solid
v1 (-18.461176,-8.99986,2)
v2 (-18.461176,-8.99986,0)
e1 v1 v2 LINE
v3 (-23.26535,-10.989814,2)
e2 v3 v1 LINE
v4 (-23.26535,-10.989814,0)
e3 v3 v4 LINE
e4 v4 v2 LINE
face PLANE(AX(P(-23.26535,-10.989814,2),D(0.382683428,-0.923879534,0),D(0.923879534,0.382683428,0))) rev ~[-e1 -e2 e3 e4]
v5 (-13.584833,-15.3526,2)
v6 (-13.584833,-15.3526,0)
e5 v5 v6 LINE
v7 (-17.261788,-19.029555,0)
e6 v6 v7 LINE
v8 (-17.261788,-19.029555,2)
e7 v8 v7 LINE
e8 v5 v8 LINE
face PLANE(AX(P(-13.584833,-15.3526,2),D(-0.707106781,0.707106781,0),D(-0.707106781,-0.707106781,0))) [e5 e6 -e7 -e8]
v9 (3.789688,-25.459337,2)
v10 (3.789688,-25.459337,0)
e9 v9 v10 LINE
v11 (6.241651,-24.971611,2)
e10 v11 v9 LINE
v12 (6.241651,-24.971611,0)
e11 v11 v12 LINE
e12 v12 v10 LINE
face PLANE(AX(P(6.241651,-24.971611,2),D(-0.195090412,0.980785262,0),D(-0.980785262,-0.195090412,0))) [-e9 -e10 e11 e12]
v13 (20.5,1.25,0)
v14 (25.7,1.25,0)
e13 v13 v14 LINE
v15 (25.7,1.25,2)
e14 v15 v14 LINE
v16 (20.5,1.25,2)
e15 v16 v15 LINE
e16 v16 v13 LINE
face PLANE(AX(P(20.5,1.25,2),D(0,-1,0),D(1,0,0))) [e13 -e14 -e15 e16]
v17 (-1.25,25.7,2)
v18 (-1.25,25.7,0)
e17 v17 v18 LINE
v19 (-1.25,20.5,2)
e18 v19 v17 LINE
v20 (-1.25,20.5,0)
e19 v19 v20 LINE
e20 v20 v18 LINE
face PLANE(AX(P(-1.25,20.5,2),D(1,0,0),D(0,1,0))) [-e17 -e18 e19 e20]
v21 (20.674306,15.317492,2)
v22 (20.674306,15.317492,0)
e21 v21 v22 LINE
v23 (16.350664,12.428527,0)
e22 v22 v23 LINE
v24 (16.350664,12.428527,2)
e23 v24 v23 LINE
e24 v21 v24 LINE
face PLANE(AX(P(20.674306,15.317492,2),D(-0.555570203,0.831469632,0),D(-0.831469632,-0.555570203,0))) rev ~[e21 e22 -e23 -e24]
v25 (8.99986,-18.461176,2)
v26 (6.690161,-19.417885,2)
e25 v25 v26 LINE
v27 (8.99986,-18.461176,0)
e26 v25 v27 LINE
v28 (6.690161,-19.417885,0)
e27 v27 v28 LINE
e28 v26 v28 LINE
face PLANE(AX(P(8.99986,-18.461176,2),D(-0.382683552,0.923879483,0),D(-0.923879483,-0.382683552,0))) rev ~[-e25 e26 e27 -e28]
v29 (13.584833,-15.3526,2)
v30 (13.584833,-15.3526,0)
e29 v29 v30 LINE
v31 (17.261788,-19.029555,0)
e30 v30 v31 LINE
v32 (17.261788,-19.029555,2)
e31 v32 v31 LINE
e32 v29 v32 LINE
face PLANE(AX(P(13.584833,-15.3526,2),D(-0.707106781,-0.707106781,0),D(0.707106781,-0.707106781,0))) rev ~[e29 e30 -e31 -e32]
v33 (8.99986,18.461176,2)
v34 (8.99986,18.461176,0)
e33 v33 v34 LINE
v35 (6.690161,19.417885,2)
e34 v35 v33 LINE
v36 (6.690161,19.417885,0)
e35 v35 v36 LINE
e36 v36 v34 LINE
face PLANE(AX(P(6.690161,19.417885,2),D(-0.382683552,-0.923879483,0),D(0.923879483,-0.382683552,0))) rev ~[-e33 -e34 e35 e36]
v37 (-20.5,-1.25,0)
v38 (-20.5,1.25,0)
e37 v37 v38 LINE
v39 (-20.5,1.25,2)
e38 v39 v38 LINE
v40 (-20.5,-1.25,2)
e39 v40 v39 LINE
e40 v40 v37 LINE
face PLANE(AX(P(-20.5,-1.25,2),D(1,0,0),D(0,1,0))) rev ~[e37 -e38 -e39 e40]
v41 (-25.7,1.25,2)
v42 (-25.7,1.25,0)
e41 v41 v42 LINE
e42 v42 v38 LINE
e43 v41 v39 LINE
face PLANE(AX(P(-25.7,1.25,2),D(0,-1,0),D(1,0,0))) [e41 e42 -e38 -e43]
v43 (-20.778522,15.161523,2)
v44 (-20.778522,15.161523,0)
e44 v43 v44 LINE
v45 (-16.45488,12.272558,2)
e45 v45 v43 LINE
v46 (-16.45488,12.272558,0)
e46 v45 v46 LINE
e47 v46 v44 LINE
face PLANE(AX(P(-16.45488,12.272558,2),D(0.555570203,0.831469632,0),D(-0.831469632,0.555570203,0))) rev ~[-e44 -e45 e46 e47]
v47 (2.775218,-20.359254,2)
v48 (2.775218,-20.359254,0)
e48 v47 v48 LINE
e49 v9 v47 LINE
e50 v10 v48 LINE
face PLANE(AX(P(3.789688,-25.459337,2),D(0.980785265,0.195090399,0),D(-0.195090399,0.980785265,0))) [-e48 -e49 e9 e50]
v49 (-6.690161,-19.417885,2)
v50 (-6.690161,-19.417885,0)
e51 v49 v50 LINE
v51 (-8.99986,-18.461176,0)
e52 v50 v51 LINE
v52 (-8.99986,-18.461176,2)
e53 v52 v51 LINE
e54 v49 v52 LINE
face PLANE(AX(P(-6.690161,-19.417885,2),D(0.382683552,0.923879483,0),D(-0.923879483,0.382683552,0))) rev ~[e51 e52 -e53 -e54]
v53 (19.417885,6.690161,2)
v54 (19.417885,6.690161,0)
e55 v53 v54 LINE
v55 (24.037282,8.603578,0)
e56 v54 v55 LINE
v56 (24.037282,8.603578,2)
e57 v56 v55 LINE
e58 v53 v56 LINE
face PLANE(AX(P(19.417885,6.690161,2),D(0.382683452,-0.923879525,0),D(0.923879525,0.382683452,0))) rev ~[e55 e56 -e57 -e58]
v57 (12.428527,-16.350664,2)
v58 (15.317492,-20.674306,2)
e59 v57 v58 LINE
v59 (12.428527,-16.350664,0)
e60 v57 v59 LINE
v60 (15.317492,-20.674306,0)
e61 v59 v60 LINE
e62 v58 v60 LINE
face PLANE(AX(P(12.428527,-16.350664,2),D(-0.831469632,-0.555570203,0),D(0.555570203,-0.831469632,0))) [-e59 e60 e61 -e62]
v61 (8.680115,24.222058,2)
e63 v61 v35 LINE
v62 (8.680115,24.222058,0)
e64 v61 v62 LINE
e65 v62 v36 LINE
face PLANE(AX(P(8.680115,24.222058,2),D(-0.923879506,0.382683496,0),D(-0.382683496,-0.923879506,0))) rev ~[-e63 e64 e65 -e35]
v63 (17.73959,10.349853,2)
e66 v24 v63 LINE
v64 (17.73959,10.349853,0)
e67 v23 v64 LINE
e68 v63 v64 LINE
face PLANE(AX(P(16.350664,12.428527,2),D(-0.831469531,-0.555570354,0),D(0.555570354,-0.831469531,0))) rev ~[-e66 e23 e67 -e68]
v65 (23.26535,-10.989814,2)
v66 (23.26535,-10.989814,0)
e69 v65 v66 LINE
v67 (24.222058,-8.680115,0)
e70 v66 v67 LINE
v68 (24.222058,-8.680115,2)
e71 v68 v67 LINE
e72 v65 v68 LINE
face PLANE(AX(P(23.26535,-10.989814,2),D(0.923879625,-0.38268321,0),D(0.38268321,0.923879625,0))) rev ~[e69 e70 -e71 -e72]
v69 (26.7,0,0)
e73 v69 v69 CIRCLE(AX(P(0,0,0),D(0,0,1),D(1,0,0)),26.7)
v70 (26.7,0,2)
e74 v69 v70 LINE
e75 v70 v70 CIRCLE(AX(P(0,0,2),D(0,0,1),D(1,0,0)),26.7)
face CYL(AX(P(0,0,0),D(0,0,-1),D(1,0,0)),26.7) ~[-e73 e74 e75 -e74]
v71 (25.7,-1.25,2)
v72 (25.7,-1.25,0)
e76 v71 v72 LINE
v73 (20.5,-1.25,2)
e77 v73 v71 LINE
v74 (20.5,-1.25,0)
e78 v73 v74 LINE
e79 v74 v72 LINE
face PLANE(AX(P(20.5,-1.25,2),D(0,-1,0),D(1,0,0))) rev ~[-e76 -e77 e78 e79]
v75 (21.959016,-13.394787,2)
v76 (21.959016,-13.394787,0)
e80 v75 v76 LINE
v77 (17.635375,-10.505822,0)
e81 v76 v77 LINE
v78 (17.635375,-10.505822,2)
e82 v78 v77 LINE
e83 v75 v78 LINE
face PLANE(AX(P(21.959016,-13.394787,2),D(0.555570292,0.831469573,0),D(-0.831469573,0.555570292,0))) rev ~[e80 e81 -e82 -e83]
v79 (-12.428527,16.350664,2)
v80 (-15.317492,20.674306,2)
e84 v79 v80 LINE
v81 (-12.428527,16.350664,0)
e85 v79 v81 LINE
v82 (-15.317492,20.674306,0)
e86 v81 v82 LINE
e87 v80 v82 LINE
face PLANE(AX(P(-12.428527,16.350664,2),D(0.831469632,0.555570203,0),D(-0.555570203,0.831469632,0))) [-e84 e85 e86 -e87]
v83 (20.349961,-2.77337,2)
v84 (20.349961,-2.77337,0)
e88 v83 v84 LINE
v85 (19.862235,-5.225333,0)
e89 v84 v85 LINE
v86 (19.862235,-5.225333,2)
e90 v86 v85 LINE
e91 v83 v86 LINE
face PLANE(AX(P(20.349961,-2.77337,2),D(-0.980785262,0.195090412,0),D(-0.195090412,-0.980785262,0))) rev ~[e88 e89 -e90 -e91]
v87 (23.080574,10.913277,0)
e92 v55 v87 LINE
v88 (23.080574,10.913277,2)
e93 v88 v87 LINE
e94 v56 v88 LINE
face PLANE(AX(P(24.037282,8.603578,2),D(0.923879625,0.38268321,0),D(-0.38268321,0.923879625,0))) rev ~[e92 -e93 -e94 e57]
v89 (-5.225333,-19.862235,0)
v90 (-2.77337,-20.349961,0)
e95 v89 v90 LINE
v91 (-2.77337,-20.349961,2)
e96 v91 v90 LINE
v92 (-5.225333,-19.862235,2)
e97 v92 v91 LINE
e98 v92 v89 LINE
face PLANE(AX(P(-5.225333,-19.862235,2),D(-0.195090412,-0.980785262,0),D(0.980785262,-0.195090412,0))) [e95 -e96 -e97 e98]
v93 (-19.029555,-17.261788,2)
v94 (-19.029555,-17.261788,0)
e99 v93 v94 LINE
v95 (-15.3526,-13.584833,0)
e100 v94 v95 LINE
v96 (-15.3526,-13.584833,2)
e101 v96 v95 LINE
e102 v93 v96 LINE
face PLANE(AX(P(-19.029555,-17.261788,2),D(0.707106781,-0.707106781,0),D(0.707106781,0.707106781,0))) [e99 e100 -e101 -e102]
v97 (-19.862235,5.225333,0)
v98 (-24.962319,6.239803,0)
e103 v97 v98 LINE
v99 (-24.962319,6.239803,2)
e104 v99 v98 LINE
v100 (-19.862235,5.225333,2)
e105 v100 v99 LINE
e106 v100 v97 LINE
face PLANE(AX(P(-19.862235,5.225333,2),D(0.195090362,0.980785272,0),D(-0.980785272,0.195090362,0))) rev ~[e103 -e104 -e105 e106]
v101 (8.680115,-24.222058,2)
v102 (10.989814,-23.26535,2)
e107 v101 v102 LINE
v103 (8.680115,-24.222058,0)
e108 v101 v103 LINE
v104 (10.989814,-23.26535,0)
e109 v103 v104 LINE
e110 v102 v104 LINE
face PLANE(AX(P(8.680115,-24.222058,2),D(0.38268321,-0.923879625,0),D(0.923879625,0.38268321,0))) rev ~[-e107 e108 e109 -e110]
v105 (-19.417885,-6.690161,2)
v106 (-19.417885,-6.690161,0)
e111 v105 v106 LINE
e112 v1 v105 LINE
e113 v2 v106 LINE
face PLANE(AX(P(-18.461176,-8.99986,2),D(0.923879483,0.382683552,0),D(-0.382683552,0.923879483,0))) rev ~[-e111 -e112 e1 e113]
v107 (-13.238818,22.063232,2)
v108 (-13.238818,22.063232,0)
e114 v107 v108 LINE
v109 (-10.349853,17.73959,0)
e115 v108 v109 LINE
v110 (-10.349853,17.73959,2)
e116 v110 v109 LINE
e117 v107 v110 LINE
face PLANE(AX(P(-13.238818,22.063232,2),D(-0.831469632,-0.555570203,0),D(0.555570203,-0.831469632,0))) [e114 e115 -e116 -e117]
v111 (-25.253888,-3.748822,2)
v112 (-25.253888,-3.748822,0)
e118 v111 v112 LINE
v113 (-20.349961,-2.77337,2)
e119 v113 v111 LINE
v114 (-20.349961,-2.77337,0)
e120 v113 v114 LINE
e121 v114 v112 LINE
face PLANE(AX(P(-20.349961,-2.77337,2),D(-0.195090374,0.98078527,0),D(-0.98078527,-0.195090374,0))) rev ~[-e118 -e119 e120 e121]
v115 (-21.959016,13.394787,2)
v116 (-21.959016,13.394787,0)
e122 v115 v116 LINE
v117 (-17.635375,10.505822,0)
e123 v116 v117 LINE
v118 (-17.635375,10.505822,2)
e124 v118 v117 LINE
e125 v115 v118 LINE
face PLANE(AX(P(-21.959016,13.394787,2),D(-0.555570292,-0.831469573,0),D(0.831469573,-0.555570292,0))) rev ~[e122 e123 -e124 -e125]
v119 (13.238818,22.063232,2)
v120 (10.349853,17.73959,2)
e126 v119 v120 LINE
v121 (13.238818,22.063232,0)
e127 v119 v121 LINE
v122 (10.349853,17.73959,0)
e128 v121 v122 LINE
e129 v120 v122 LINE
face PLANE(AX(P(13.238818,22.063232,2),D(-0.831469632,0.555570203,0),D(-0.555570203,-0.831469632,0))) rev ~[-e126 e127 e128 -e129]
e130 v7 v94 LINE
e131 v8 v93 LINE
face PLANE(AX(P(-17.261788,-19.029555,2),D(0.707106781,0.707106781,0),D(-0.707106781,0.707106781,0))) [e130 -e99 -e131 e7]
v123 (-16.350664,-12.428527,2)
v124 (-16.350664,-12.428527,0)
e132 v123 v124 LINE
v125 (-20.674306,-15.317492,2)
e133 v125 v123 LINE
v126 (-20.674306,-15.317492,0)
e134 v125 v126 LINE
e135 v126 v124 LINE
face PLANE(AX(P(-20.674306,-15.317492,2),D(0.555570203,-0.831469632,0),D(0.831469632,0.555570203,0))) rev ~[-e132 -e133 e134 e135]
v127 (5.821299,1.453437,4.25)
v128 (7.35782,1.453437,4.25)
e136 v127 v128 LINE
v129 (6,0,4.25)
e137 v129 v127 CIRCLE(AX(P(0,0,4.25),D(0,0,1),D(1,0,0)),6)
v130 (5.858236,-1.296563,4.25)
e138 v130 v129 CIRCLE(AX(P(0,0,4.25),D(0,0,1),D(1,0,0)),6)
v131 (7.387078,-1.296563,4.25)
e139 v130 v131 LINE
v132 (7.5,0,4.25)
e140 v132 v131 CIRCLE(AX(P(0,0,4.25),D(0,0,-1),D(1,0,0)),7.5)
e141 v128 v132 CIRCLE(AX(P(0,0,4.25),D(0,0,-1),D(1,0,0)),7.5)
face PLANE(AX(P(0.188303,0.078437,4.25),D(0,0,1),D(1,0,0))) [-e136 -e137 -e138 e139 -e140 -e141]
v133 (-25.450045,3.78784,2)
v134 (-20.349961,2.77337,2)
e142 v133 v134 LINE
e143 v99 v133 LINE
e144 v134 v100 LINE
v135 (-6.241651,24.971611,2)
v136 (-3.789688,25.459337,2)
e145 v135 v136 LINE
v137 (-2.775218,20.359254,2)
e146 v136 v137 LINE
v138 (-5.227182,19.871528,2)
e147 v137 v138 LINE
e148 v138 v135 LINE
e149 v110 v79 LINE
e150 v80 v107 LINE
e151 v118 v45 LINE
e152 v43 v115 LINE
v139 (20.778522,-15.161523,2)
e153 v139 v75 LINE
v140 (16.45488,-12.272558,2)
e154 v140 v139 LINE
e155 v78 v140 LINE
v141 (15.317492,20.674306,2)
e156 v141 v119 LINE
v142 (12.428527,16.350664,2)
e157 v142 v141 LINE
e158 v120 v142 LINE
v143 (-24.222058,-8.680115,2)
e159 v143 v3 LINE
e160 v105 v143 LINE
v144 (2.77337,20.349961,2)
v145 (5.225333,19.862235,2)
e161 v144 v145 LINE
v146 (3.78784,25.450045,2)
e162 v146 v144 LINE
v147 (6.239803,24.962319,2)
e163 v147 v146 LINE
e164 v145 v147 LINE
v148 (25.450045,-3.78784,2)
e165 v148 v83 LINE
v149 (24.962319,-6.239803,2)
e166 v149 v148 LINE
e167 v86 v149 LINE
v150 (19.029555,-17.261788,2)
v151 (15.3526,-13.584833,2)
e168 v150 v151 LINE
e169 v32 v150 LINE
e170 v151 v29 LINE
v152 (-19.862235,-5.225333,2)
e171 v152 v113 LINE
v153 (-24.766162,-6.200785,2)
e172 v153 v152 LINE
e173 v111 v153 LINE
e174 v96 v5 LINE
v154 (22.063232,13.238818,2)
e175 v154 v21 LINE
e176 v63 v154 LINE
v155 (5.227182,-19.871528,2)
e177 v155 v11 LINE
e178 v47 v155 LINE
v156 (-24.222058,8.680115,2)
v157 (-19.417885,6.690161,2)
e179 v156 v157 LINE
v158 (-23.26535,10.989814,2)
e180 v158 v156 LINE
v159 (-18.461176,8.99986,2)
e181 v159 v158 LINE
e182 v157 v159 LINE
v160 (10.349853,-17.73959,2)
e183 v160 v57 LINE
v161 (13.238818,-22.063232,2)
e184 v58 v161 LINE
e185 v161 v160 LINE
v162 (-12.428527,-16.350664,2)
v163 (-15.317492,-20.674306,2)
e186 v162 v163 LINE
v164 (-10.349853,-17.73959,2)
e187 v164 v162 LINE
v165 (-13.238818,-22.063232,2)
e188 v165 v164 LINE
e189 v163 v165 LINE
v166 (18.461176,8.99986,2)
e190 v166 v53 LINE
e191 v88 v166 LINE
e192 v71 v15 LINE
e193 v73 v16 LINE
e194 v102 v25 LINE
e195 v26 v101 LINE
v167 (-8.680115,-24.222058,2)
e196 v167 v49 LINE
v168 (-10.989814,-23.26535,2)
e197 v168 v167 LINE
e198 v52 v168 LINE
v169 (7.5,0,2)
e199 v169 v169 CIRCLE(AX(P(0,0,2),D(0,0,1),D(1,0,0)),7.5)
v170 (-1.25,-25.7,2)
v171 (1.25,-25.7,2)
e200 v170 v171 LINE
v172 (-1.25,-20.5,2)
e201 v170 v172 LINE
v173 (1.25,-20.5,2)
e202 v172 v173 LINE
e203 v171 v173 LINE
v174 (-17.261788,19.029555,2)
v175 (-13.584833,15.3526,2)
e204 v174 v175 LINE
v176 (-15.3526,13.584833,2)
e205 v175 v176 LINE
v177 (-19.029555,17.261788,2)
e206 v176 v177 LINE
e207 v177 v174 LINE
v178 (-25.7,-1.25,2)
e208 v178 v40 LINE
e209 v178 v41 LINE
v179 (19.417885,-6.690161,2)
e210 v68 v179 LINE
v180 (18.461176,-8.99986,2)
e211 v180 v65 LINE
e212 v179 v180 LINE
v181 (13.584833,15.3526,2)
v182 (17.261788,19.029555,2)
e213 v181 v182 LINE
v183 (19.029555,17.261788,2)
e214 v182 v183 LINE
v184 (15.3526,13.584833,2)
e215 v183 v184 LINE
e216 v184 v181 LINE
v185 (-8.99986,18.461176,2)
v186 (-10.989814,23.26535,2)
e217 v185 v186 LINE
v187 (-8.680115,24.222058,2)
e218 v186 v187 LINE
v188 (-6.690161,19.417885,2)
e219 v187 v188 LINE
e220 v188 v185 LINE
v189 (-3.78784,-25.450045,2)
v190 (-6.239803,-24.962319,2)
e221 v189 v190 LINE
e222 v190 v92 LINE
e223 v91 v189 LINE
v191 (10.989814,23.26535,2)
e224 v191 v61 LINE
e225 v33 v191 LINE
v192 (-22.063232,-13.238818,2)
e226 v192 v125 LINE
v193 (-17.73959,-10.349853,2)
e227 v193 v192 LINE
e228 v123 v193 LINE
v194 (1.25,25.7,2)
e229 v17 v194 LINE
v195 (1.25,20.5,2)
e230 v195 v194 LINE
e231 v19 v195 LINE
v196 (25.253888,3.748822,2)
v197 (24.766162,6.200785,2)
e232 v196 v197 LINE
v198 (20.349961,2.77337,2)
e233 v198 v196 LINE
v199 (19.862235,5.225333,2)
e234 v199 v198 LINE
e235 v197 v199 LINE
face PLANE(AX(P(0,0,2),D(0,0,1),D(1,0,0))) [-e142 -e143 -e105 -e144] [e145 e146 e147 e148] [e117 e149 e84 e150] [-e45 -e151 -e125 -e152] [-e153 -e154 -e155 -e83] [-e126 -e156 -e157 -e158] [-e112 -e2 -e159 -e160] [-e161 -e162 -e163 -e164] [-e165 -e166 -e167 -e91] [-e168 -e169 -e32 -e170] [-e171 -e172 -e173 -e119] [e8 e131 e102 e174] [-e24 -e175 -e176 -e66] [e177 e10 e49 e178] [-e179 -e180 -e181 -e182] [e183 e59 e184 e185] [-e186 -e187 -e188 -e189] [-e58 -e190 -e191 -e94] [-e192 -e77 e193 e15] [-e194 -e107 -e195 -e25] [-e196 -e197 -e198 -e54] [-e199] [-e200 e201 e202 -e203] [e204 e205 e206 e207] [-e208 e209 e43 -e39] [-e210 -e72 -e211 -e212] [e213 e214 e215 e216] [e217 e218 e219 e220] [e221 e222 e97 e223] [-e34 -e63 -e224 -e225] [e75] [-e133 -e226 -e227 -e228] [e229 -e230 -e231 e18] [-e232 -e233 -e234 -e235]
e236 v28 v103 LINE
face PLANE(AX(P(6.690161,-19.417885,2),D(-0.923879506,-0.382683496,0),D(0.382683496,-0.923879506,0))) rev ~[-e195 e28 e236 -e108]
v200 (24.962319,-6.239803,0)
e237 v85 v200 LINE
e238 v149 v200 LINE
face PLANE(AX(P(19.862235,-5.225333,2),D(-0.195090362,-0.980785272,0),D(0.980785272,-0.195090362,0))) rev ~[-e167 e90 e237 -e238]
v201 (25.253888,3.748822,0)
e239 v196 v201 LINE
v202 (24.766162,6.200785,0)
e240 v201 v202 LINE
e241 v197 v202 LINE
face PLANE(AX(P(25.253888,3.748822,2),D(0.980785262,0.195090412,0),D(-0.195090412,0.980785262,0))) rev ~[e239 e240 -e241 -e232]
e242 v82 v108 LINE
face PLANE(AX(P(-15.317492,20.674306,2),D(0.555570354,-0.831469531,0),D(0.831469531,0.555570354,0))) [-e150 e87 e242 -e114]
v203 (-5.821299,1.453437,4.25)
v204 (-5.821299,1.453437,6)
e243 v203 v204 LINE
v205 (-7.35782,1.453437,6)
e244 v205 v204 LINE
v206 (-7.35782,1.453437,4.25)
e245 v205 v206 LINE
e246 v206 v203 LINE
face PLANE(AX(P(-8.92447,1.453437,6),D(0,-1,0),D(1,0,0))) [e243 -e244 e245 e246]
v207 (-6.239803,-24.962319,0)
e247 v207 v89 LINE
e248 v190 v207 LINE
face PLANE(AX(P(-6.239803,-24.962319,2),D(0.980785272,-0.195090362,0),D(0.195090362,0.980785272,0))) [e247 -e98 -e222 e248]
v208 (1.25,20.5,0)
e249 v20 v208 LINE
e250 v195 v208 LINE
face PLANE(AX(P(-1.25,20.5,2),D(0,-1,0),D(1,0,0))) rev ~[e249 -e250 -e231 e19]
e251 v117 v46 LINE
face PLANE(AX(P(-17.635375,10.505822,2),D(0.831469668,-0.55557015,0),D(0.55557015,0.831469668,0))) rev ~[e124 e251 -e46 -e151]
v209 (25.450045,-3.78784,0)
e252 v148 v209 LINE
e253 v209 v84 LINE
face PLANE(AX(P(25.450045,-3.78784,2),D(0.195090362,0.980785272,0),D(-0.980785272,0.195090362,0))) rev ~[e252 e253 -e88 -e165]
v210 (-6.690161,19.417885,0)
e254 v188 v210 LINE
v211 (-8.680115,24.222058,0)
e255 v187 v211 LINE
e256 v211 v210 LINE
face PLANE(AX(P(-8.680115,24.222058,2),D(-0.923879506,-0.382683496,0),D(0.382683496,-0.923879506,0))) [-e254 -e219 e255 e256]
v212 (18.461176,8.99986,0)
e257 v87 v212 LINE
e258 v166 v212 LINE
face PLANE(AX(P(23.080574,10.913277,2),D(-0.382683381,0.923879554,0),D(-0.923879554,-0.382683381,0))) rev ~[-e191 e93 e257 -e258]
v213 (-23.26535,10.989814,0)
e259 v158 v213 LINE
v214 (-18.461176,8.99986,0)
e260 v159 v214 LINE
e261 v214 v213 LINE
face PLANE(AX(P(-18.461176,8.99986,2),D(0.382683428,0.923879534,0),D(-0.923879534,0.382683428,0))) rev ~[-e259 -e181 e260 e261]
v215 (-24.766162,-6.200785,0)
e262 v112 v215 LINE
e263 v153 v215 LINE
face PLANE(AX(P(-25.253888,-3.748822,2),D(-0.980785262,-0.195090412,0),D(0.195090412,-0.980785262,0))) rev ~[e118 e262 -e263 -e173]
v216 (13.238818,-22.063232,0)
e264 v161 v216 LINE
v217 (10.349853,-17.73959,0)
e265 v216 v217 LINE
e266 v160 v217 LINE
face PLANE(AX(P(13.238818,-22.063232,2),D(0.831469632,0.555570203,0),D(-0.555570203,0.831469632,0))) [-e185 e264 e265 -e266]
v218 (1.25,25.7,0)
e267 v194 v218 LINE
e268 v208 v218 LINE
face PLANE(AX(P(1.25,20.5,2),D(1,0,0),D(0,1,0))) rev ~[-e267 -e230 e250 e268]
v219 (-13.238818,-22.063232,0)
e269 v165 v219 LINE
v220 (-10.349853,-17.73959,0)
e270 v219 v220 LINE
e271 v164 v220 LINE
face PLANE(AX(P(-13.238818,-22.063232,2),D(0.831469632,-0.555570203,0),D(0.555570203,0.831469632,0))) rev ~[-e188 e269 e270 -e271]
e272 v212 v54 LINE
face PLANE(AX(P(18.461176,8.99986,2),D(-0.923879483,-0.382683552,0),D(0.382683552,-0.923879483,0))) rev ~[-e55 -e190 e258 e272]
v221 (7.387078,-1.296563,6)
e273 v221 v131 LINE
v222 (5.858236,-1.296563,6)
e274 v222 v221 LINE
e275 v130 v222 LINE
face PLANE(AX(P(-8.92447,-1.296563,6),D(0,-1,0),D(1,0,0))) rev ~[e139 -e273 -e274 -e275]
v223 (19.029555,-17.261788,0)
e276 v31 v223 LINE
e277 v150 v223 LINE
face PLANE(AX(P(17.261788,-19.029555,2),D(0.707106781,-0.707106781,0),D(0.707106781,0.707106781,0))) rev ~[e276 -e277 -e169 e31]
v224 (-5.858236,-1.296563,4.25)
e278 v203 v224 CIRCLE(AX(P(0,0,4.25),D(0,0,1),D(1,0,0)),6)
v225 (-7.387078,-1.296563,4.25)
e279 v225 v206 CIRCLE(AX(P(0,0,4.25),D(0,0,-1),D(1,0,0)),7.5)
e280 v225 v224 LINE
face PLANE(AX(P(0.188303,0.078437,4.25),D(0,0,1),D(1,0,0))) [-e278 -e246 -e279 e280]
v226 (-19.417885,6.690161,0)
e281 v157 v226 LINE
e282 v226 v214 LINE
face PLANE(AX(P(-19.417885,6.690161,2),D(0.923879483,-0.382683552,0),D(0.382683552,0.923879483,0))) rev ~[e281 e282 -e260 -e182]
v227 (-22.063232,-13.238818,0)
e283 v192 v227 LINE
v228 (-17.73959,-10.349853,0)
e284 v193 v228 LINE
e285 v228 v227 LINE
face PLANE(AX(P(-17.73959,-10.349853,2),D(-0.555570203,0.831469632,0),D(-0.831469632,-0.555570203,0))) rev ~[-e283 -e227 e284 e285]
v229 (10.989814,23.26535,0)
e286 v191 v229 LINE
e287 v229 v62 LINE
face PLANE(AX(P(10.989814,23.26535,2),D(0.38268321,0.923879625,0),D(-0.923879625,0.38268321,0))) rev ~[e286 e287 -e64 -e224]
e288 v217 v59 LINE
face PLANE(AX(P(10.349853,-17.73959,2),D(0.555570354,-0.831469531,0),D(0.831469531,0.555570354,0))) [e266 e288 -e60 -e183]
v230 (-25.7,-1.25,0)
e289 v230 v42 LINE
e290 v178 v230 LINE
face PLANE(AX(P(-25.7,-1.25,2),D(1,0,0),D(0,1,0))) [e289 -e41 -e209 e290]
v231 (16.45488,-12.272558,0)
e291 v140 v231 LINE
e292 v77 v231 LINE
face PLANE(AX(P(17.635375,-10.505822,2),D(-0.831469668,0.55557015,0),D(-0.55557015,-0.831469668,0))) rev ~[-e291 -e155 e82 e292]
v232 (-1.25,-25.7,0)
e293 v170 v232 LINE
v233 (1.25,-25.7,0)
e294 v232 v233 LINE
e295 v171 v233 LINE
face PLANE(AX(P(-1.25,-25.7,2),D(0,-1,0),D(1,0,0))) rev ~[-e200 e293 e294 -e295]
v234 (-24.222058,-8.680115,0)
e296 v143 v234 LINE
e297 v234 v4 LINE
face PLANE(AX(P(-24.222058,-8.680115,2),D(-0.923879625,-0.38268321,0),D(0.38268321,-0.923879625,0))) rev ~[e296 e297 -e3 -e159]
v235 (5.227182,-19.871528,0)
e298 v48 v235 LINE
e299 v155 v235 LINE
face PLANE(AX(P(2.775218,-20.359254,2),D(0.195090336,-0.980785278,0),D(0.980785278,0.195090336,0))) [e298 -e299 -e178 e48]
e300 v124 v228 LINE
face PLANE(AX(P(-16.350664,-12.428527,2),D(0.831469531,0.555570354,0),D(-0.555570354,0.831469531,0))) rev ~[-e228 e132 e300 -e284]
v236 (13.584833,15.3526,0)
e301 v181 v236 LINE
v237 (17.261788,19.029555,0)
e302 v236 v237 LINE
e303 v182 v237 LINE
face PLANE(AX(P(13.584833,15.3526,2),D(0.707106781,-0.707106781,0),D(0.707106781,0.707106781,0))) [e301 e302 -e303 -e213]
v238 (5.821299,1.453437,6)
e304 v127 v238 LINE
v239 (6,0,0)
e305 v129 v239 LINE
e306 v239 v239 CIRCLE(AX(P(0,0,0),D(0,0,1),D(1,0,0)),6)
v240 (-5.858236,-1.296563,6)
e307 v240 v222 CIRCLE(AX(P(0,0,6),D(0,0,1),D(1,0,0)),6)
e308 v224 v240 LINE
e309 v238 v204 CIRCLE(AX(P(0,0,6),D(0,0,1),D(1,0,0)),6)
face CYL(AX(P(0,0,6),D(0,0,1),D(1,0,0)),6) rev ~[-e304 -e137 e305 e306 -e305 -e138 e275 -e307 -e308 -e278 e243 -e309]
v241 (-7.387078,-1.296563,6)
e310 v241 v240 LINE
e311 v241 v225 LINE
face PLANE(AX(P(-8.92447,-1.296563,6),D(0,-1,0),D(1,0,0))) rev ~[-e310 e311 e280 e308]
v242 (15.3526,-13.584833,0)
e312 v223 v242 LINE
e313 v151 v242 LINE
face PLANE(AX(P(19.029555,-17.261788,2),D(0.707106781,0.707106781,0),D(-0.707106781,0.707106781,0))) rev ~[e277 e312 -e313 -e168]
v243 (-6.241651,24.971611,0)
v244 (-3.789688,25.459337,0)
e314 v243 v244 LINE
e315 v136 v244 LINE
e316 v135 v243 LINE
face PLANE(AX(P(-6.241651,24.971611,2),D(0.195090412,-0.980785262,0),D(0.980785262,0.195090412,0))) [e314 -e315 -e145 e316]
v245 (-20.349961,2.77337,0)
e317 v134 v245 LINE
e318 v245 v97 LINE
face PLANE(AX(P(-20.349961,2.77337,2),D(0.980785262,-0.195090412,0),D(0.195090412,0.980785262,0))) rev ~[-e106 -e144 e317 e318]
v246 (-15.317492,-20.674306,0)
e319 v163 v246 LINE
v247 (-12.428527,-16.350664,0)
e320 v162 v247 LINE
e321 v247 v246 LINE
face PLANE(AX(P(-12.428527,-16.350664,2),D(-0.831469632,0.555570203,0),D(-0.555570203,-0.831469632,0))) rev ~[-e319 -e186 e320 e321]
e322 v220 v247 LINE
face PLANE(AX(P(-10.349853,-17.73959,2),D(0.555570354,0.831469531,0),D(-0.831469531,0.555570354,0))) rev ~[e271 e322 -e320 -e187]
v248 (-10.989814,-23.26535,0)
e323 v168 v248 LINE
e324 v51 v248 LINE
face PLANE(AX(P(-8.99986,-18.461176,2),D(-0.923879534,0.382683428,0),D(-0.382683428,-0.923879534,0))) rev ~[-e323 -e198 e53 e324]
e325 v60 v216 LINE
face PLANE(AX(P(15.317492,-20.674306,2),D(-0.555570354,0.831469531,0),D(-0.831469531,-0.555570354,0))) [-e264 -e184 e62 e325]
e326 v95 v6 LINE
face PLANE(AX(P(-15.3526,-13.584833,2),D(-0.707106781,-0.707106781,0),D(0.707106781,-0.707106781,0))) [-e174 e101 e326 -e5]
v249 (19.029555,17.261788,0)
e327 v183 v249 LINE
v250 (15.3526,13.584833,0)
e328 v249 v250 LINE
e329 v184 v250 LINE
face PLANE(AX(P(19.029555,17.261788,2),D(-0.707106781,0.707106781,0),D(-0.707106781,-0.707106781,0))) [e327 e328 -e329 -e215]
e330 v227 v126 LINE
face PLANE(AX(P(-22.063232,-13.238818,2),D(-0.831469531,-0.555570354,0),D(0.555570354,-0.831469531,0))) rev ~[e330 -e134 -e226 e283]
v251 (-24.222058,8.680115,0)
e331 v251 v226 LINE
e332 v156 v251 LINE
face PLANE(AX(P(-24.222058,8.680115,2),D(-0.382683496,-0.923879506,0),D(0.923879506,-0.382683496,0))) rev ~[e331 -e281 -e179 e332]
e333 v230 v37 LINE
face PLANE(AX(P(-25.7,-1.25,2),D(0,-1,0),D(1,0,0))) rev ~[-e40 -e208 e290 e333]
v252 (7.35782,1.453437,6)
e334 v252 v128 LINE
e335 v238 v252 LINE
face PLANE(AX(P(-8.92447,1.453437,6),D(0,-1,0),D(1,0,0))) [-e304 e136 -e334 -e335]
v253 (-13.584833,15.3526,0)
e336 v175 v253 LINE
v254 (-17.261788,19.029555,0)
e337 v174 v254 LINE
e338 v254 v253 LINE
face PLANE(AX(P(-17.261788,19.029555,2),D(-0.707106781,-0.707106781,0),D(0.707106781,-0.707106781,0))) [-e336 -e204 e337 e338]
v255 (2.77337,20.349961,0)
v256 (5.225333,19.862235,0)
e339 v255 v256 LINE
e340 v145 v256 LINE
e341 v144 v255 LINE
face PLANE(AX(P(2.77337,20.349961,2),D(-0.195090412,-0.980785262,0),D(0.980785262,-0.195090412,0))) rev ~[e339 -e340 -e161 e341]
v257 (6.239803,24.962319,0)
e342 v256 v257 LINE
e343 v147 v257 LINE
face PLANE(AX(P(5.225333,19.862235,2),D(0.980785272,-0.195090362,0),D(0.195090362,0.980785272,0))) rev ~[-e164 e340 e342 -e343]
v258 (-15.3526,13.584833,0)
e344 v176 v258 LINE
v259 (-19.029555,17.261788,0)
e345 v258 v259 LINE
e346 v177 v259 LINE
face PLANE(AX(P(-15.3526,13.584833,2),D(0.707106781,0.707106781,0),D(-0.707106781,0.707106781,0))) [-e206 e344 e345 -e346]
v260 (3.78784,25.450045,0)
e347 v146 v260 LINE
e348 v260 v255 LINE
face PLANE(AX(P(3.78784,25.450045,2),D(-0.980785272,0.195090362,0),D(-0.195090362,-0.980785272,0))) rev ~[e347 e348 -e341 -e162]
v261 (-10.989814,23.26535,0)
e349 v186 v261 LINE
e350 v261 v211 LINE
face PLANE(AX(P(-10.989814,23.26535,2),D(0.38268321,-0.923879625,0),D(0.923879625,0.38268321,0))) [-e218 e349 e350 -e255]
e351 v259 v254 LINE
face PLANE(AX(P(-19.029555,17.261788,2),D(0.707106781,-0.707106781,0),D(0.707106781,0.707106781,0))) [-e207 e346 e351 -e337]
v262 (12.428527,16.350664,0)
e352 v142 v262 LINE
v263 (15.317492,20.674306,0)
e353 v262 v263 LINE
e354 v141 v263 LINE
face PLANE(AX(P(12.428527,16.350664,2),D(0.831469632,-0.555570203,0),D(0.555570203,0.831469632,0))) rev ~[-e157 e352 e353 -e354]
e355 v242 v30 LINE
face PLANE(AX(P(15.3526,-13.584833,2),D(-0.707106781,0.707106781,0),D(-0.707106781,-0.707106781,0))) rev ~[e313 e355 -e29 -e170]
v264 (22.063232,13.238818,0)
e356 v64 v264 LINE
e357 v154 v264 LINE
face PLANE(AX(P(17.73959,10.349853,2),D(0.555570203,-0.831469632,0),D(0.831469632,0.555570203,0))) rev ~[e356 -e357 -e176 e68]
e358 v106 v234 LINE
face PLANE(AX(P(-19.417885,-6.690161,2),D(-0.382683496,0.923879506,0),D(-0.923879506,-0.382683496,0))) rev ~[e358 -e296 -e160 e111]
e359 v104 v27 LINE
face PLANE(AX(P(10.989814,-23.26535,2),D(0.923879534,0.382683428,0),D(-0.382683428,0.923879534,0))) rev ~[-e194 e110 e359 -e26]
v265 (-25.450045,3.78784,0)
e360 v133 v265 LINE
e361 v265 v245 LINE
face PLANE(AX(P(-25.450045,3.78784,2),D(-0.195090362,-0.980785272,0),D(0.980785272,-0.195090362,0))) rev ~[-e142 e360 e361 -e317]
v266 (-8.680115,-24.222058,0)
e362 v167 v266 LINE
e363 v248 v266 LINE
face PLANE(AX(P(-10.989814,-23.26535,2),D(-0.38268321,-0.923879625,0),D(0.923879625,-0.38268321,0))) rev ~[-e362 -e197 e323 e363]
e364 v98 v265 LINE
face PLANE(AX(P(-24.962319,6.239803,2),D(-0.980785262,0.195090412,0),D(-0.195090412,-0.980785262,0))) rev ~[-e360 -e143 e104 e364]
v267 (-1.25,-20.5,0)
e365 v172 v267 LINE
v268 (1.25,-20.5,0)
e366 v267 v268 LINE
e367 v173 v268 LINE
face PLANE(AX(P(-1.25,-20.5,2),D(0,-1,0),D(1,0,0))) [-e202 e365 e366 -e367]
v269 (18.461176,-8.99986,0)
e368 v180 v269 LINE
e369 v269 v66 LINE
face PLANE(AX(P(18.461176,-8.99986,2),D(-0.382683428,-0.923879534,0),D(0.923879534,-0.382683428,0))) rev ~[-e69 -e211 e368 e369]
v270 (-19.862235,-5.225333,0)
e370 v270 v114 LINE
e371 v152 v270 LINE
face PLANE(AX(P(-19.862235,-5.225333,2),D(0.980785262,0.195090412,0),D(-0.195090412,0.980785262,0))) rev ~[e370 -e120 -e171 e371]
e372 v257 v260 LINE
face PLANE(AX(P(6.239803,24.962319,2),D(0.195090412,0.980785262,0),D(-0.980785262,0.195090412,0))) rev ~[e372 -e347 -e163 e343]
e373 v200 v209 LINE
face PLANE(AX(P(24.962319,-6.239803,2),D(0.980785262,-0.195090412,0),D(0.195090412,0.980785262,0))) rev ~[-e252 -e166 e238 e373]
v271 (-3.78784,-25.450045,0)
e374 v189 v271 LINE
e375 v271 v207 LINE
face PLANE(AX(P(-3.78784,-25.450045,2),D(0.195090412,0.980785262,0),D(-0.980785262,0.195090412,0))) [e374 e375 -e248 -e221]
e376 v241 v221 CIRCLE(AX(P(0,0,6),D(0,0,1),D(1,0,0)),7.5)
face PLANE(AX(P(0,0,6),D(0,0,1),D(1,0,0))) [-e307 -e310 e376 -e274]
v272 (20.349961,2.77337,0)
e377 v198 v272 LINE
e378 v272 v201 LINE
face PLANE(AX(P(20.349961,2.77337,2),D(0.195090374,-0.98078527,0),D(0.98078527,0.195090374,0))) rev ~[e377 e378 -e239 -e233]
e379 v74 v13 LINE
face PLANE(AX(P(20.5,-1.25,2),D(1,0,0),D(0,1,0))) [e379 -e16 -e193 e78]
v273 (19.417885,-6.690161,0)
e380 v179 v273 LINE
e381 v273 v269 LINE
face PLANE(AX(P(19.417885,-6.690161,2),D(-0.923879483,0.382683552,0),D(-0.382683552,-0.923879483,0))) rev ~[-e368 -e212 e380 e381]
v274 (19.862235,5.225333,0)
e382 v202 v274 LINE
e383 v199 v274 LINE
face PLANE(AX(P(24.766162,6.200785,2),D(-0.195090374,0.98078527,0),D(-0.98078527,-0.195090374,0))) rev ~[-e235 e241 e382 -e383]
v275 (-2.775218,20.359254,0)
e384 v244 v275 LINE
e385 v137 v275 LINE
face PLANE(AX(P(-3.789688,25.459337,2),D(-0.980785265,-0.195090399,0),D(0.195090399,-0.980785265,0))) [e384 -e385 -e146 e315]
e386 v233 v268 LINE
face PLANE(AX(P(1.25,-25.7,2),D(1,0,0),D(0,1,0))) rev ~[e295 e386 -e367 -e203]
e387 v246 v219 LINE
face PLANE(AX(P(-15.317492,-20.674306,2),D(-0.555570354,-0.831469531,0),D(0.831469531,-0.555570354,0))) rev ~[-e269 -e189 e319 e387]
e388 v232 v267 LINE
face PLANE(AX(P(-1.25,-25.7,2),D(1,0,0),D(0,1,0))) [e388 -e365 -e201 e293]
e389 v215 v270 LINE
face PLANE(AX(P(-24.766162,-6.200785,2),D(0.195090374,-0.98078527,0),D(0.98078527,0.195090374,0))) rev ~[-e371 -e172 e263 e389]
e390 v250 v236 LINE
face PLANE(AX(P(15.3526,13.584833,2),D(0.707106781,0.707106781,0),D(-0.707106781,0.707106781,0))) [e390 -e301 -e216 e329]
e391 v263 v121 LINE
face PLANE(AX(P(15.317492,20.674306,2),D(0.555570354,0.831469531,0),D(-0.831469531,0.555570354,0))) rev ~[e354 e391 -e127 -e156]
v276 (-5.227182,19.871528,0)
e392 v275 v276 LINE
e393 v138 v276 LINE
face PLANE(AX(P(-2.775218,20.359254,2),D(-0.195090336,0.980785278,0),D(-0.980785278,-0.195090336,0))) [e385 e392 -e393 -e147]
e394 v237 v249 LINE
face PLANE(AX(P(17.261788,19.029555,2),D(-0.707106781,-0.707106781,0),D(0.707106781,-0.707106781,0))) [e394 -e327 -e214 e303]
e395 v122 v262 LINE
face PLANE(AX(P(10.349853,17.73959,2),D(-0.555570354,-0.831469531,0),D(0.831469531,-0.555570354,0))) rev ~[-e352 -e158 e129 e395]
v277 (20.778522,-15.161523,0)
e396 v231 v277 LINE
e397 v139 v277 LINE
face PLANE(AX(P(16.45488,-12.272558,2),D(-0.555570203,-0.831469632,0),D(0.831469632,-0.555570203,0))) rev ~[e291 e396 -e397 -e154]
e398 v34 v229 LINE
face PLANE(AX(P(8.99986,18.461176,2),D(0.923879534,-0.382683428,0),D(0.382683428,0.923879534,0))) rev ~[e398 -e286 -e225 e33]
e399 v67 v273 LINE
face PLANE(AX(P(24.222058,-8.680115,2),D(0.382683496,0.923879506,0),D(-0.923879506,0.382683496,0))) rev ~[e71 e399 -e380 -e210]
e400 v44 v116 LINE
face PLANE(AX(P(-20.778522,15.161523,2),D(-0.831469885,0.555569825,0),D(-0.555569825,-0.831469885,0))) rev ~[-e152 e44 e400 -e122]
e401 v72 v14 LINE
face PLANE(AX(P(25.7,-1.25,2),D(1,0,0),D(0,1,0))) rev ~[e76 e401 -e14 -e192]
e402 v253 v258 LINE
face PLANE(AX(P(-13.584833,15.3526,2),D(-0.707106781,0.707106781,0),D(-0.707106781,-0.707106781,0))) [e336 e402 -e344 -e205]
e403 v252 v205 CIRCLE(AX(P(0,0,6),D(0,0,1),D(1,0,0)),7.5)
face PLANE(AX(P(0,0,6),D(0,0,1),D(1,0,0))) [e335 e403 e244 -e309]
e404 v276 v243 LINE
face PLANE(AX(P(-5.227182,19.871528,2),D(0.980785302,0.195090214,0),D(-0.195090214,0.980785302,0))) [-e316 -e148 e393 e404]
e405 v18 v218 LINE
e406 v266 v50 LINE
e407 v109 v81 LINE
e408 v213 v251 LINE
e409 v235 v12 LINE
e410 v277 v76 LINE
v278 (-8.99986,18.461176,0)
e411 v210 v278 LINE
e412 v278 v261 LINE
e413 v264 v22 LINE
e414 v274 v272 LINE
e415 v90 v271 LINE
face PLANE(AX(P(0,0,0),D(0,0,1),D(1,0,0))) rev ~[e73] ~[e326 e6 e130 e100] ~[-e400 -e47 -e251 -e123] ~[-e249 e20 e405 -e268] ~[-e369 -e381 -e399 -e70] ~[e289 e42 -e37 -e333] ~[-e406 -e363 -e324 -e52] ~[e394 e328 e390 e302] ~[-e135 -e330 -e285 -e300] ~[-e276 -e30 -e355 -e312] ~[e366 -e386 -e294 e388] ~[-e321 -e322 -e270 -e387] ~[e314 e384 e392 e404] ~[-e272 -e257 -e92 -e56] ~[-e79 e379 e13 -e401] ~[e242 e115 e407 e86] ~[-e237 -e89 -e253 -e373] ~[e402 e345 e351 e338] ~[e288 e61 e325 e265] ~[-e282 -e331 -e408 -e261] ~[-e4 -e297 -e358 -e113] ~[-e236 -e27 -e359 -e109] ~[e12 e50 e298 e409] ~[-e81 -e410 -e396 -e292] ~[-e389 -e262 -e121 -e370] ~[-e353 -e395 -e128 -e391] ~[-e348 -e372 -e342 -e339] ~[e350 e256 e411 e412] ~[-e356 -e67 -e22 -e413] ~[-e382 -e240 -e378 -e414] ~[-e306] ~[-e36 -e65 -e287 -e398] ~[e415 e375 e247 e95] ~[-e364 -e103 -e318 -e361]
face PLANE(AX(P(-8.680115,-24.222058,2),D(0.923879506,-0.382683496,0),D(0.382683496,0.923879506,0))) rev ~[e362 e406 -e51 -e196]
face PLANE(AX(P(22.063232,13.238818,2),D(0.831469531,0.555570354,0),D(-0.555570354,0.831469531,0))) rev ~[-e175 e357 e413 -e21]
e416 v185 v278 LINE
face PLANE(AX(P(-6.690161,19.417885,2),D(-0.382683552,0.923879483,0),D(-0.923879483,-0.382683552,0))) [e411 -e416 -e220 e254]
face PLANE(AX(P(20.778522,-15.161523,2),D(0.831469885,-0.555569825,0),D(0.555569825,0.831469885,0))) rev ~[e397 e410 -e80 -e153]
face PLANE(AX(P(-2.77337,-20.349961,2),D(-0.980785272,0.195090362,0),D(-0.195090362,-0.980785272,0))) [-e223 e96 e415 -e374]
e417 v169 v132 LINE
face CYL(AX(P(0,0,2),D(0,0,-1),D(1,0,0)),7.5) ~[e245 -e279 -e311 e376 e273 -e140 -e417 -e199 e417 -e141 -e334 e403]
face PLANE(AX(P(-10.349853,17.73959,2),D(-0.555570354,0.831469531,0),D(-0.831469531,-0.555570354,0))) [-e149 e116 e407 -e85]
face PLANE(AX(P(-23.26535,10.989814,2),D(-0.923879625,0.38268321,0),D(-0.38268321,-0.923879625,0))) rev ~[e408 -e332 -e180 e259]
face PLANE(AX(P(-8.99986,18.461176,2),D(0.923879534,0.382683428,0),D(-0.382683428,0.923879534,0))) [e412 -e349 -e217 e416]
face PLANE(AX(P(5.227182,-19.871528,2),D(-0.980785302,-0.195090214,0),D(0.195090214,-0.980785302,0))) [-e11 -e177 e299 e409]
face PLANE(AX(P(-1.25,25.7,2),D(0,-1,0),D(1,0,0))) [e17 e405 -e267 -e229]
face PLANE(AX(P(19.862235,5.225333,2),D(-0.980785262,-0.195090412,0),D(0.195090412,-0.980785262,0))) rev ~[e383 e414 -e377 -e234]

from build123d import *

# Parameters (mm, degrees)
SKETCH_R        = 26.7
PAD_DEPTH       = 2
SKETCH001_W     = 5.2
SKETCH001_H     = 2.5
SKETCH001_W_2   = 2.5
SKETCH001_H_2   = 5.2
POCKET_DEPTH    = 2.001
SKETCH002_R     = 7.5
PAD001_DEPTH    = 4
SKETCH003_R     = 6
POCKET001_DEPTH = 6.001
SKETCH004_W     = 18.225545
SKETCH004_H     = 2.75
POCKET002_DEPTH = 1.75


with BuildPart() as part:
    # Sketch → Pad (new body)
    with BuildSketch(Plane.XY):
        Circle(SKETCH_R)
    extrude(amount=PAD_DEPTH)

    # Sketch001 → Pocket (cut, through all)
    with BuildSketch(Plane.XY.offset(2)):
        with Locations((-23.1, 0)):
            Rectangle(SKETCH001_W, SKETCH001_H)
        with Locations((23.1, 0)):
            Rectangle(SKETCH001_W, SKETCH001_H)
        with Locations((0, 23.1)):
            Rectangle(SKETCH001_W_2, SKETCH001_H_2)
        with Locations((0, -23.1)):
            Rectangle(SKETCH001_W_2, SKETCH001_H_2)
        Polygon((-19.029555, 17.261788), (-17.261788, 19.029555), (-13.584833, 15.3526), (-15.3526, 13.584833), align=None)
        Polygon((17.261788, 19.029555), (19.029555, 17.261788), (15.3526, 13.584833), (13.584833, 15.3526), align=None)
        Polygon((17.261788, -19.029555), (19.029555, -17.261788), (15.3526, -13.584833), (13.584833, -15.3526), align=None)
        Polygon((-17.261788, -19.029555), (-19.029555, -17.261788), (-15.3526, -13.584833), (-13.584833, -15.3526), align=None)
        Polygon((8.680115, 24.222058), (6.690161, 19.417885), (8.99986, 18.461176), (10.989814, 23.26535), align=None)
        Polygon((18.461176, 8.99986), (19.417885, 6.690161), (24.037282, 8.603578), (23.080574, 10.913277), align=None)
        Polygon((-23.26535, 10.989814), (-24.222058, 8.680115), (-19.417885, 6.690161), (-18.461176, 8.99986), align=None)
        Polygon((-24.222058, -8.680115), (-23.26535, -10.989814), (-18.461176, -8.99986), (-19.417885, -6.690161), align=None)
        Polygon((-10.989814, -23.26535), (-8.680115, -24.222058), (-6.690161, -19.417885), (-8.99986, -18.461176), align=None)
        Polygon((6.690161, -19.417885), (8.680115, -24.222058), (10.989814, -23.26535), (8.99986, -18.461176), align=None)
        Polygon((19.417885, -6.690161), (18.461176, -8.99986), (23.26535, -10.989814), (24.222058, -8.680115), align=None)
        Polygon((-10.989814, 23.26535), (-8.680115, 24.222058), (-6.690161, 19.417885), (-8.99986, 18.461176), align=None)
        Polygon((19.862235, 5.225333), (20.349961, 2.77337), (25.253888, 3.748822), (24.766162, 6.200785), align=None)
        Polygon((-25.253888, -3.748822), (-24.766162, -6.200785), (-19.862235, -5.225333), (-20.349961, -2.77337), align=None)
        Polygon((-24.962319, 6.239803), (-25.450045, 3.78784), (-20.349961, 2.77337), (-19.862235, 5.225333), align=None)
        Polygon((-20.778522, 15.161523), (-21.959016, 13.394787), (-17.635375, 10.505822), (-16.45488, 12.272558), align=None)
        Polygon((-15.317492, 20.674306), (-13.238818, 22.063232), (-10.349853, 17.73959), (-12.428527, 16.350664), align=None)
        Polygon((-6.241651, 24.971611), (-3.789688, 25.459337), (-2.775218, 20.359254), (-5.227182, 19.871528), align=None)
        Polygon((3.78784, 25.450045), (2.77337, 20.349961), (5.225333, 19.862235), (6.239803, 24.962319), align=None)
        Polygon((13.238818, 22.063232), (10.349853, 17.73959), (12.428527, 16.350664), (15.317492, 20.674306), align=None)
        Polygon((16.350664, 12.428527), (17.73959, 10.349853), (22.063232, 13.238818), (20.674306, 15.317492), align=None)
        Polygon((20.349961, -2.77337), (19.862235, -5.225333), (24.962319, -6.239803), (25.450045, -3.78784), align=None)
        Polygon((17.635375, -10.505822), (16.45488, -12.272558), (20.778522, -15.161523), (21.959016, -13.394787), align=None)
        Polygon((10.349853, -17.73959), (12.428527, -16.350664), (15.317492, -20.674306), (13.238818, -22.063232), align=None)
        Polygon((2.775218, -20.359254), (5.227182, -19.871528), (6.241651, -24.971611), (3.789688, -25.459337), align=None)
        Polygon((-2.77337, -20.349961), (-3.78784, -25.450045), (-6.239803, -24.962319), (-5.225333, -19.862235), align=None)
        Polygon((-15.317492, -20.674306), (-13.238818, -22.063232), (-10.349853, -17.73959), (-12.428527, -16.350664), align=None)
        Polygon((-22.063232, -13.238818), (-20.674306, -15.317492), (-16.350664, -12.428527), (-17.73959, -10.349853), align=None)
    extrude(amount=-POCKET_DEPTH, mode=Mode.SUBTRACT)

    # Sketch002 → Pad001 (new body)
    with BuildSketch(Plane.XY.offset(2)):
        Circle(SKETCH002_R)
    extrude(amount=PAD001_DEPTH)

    # Sketch003 → Pocket001 (cut, through all)
    with BuildSketch(Plane.XY.offset(6)):
        Circle(SKETCH003_R)
    extrude(amount=-POCKET001_DEPTH, mode=Mode.SUBTRACT)

    # Sketch004 → Pocket002 (cut)
    with BuildSketch(Plane.XY.offset(6)):
        with Locations((0.188303, 0.078437)):
            Rectangle(SKETCH004_W, SKETCH004_H)
    extrude(amount=-POCKET002_DEPTH, mode=Mode.SUBTRACT)


solid = part.part
